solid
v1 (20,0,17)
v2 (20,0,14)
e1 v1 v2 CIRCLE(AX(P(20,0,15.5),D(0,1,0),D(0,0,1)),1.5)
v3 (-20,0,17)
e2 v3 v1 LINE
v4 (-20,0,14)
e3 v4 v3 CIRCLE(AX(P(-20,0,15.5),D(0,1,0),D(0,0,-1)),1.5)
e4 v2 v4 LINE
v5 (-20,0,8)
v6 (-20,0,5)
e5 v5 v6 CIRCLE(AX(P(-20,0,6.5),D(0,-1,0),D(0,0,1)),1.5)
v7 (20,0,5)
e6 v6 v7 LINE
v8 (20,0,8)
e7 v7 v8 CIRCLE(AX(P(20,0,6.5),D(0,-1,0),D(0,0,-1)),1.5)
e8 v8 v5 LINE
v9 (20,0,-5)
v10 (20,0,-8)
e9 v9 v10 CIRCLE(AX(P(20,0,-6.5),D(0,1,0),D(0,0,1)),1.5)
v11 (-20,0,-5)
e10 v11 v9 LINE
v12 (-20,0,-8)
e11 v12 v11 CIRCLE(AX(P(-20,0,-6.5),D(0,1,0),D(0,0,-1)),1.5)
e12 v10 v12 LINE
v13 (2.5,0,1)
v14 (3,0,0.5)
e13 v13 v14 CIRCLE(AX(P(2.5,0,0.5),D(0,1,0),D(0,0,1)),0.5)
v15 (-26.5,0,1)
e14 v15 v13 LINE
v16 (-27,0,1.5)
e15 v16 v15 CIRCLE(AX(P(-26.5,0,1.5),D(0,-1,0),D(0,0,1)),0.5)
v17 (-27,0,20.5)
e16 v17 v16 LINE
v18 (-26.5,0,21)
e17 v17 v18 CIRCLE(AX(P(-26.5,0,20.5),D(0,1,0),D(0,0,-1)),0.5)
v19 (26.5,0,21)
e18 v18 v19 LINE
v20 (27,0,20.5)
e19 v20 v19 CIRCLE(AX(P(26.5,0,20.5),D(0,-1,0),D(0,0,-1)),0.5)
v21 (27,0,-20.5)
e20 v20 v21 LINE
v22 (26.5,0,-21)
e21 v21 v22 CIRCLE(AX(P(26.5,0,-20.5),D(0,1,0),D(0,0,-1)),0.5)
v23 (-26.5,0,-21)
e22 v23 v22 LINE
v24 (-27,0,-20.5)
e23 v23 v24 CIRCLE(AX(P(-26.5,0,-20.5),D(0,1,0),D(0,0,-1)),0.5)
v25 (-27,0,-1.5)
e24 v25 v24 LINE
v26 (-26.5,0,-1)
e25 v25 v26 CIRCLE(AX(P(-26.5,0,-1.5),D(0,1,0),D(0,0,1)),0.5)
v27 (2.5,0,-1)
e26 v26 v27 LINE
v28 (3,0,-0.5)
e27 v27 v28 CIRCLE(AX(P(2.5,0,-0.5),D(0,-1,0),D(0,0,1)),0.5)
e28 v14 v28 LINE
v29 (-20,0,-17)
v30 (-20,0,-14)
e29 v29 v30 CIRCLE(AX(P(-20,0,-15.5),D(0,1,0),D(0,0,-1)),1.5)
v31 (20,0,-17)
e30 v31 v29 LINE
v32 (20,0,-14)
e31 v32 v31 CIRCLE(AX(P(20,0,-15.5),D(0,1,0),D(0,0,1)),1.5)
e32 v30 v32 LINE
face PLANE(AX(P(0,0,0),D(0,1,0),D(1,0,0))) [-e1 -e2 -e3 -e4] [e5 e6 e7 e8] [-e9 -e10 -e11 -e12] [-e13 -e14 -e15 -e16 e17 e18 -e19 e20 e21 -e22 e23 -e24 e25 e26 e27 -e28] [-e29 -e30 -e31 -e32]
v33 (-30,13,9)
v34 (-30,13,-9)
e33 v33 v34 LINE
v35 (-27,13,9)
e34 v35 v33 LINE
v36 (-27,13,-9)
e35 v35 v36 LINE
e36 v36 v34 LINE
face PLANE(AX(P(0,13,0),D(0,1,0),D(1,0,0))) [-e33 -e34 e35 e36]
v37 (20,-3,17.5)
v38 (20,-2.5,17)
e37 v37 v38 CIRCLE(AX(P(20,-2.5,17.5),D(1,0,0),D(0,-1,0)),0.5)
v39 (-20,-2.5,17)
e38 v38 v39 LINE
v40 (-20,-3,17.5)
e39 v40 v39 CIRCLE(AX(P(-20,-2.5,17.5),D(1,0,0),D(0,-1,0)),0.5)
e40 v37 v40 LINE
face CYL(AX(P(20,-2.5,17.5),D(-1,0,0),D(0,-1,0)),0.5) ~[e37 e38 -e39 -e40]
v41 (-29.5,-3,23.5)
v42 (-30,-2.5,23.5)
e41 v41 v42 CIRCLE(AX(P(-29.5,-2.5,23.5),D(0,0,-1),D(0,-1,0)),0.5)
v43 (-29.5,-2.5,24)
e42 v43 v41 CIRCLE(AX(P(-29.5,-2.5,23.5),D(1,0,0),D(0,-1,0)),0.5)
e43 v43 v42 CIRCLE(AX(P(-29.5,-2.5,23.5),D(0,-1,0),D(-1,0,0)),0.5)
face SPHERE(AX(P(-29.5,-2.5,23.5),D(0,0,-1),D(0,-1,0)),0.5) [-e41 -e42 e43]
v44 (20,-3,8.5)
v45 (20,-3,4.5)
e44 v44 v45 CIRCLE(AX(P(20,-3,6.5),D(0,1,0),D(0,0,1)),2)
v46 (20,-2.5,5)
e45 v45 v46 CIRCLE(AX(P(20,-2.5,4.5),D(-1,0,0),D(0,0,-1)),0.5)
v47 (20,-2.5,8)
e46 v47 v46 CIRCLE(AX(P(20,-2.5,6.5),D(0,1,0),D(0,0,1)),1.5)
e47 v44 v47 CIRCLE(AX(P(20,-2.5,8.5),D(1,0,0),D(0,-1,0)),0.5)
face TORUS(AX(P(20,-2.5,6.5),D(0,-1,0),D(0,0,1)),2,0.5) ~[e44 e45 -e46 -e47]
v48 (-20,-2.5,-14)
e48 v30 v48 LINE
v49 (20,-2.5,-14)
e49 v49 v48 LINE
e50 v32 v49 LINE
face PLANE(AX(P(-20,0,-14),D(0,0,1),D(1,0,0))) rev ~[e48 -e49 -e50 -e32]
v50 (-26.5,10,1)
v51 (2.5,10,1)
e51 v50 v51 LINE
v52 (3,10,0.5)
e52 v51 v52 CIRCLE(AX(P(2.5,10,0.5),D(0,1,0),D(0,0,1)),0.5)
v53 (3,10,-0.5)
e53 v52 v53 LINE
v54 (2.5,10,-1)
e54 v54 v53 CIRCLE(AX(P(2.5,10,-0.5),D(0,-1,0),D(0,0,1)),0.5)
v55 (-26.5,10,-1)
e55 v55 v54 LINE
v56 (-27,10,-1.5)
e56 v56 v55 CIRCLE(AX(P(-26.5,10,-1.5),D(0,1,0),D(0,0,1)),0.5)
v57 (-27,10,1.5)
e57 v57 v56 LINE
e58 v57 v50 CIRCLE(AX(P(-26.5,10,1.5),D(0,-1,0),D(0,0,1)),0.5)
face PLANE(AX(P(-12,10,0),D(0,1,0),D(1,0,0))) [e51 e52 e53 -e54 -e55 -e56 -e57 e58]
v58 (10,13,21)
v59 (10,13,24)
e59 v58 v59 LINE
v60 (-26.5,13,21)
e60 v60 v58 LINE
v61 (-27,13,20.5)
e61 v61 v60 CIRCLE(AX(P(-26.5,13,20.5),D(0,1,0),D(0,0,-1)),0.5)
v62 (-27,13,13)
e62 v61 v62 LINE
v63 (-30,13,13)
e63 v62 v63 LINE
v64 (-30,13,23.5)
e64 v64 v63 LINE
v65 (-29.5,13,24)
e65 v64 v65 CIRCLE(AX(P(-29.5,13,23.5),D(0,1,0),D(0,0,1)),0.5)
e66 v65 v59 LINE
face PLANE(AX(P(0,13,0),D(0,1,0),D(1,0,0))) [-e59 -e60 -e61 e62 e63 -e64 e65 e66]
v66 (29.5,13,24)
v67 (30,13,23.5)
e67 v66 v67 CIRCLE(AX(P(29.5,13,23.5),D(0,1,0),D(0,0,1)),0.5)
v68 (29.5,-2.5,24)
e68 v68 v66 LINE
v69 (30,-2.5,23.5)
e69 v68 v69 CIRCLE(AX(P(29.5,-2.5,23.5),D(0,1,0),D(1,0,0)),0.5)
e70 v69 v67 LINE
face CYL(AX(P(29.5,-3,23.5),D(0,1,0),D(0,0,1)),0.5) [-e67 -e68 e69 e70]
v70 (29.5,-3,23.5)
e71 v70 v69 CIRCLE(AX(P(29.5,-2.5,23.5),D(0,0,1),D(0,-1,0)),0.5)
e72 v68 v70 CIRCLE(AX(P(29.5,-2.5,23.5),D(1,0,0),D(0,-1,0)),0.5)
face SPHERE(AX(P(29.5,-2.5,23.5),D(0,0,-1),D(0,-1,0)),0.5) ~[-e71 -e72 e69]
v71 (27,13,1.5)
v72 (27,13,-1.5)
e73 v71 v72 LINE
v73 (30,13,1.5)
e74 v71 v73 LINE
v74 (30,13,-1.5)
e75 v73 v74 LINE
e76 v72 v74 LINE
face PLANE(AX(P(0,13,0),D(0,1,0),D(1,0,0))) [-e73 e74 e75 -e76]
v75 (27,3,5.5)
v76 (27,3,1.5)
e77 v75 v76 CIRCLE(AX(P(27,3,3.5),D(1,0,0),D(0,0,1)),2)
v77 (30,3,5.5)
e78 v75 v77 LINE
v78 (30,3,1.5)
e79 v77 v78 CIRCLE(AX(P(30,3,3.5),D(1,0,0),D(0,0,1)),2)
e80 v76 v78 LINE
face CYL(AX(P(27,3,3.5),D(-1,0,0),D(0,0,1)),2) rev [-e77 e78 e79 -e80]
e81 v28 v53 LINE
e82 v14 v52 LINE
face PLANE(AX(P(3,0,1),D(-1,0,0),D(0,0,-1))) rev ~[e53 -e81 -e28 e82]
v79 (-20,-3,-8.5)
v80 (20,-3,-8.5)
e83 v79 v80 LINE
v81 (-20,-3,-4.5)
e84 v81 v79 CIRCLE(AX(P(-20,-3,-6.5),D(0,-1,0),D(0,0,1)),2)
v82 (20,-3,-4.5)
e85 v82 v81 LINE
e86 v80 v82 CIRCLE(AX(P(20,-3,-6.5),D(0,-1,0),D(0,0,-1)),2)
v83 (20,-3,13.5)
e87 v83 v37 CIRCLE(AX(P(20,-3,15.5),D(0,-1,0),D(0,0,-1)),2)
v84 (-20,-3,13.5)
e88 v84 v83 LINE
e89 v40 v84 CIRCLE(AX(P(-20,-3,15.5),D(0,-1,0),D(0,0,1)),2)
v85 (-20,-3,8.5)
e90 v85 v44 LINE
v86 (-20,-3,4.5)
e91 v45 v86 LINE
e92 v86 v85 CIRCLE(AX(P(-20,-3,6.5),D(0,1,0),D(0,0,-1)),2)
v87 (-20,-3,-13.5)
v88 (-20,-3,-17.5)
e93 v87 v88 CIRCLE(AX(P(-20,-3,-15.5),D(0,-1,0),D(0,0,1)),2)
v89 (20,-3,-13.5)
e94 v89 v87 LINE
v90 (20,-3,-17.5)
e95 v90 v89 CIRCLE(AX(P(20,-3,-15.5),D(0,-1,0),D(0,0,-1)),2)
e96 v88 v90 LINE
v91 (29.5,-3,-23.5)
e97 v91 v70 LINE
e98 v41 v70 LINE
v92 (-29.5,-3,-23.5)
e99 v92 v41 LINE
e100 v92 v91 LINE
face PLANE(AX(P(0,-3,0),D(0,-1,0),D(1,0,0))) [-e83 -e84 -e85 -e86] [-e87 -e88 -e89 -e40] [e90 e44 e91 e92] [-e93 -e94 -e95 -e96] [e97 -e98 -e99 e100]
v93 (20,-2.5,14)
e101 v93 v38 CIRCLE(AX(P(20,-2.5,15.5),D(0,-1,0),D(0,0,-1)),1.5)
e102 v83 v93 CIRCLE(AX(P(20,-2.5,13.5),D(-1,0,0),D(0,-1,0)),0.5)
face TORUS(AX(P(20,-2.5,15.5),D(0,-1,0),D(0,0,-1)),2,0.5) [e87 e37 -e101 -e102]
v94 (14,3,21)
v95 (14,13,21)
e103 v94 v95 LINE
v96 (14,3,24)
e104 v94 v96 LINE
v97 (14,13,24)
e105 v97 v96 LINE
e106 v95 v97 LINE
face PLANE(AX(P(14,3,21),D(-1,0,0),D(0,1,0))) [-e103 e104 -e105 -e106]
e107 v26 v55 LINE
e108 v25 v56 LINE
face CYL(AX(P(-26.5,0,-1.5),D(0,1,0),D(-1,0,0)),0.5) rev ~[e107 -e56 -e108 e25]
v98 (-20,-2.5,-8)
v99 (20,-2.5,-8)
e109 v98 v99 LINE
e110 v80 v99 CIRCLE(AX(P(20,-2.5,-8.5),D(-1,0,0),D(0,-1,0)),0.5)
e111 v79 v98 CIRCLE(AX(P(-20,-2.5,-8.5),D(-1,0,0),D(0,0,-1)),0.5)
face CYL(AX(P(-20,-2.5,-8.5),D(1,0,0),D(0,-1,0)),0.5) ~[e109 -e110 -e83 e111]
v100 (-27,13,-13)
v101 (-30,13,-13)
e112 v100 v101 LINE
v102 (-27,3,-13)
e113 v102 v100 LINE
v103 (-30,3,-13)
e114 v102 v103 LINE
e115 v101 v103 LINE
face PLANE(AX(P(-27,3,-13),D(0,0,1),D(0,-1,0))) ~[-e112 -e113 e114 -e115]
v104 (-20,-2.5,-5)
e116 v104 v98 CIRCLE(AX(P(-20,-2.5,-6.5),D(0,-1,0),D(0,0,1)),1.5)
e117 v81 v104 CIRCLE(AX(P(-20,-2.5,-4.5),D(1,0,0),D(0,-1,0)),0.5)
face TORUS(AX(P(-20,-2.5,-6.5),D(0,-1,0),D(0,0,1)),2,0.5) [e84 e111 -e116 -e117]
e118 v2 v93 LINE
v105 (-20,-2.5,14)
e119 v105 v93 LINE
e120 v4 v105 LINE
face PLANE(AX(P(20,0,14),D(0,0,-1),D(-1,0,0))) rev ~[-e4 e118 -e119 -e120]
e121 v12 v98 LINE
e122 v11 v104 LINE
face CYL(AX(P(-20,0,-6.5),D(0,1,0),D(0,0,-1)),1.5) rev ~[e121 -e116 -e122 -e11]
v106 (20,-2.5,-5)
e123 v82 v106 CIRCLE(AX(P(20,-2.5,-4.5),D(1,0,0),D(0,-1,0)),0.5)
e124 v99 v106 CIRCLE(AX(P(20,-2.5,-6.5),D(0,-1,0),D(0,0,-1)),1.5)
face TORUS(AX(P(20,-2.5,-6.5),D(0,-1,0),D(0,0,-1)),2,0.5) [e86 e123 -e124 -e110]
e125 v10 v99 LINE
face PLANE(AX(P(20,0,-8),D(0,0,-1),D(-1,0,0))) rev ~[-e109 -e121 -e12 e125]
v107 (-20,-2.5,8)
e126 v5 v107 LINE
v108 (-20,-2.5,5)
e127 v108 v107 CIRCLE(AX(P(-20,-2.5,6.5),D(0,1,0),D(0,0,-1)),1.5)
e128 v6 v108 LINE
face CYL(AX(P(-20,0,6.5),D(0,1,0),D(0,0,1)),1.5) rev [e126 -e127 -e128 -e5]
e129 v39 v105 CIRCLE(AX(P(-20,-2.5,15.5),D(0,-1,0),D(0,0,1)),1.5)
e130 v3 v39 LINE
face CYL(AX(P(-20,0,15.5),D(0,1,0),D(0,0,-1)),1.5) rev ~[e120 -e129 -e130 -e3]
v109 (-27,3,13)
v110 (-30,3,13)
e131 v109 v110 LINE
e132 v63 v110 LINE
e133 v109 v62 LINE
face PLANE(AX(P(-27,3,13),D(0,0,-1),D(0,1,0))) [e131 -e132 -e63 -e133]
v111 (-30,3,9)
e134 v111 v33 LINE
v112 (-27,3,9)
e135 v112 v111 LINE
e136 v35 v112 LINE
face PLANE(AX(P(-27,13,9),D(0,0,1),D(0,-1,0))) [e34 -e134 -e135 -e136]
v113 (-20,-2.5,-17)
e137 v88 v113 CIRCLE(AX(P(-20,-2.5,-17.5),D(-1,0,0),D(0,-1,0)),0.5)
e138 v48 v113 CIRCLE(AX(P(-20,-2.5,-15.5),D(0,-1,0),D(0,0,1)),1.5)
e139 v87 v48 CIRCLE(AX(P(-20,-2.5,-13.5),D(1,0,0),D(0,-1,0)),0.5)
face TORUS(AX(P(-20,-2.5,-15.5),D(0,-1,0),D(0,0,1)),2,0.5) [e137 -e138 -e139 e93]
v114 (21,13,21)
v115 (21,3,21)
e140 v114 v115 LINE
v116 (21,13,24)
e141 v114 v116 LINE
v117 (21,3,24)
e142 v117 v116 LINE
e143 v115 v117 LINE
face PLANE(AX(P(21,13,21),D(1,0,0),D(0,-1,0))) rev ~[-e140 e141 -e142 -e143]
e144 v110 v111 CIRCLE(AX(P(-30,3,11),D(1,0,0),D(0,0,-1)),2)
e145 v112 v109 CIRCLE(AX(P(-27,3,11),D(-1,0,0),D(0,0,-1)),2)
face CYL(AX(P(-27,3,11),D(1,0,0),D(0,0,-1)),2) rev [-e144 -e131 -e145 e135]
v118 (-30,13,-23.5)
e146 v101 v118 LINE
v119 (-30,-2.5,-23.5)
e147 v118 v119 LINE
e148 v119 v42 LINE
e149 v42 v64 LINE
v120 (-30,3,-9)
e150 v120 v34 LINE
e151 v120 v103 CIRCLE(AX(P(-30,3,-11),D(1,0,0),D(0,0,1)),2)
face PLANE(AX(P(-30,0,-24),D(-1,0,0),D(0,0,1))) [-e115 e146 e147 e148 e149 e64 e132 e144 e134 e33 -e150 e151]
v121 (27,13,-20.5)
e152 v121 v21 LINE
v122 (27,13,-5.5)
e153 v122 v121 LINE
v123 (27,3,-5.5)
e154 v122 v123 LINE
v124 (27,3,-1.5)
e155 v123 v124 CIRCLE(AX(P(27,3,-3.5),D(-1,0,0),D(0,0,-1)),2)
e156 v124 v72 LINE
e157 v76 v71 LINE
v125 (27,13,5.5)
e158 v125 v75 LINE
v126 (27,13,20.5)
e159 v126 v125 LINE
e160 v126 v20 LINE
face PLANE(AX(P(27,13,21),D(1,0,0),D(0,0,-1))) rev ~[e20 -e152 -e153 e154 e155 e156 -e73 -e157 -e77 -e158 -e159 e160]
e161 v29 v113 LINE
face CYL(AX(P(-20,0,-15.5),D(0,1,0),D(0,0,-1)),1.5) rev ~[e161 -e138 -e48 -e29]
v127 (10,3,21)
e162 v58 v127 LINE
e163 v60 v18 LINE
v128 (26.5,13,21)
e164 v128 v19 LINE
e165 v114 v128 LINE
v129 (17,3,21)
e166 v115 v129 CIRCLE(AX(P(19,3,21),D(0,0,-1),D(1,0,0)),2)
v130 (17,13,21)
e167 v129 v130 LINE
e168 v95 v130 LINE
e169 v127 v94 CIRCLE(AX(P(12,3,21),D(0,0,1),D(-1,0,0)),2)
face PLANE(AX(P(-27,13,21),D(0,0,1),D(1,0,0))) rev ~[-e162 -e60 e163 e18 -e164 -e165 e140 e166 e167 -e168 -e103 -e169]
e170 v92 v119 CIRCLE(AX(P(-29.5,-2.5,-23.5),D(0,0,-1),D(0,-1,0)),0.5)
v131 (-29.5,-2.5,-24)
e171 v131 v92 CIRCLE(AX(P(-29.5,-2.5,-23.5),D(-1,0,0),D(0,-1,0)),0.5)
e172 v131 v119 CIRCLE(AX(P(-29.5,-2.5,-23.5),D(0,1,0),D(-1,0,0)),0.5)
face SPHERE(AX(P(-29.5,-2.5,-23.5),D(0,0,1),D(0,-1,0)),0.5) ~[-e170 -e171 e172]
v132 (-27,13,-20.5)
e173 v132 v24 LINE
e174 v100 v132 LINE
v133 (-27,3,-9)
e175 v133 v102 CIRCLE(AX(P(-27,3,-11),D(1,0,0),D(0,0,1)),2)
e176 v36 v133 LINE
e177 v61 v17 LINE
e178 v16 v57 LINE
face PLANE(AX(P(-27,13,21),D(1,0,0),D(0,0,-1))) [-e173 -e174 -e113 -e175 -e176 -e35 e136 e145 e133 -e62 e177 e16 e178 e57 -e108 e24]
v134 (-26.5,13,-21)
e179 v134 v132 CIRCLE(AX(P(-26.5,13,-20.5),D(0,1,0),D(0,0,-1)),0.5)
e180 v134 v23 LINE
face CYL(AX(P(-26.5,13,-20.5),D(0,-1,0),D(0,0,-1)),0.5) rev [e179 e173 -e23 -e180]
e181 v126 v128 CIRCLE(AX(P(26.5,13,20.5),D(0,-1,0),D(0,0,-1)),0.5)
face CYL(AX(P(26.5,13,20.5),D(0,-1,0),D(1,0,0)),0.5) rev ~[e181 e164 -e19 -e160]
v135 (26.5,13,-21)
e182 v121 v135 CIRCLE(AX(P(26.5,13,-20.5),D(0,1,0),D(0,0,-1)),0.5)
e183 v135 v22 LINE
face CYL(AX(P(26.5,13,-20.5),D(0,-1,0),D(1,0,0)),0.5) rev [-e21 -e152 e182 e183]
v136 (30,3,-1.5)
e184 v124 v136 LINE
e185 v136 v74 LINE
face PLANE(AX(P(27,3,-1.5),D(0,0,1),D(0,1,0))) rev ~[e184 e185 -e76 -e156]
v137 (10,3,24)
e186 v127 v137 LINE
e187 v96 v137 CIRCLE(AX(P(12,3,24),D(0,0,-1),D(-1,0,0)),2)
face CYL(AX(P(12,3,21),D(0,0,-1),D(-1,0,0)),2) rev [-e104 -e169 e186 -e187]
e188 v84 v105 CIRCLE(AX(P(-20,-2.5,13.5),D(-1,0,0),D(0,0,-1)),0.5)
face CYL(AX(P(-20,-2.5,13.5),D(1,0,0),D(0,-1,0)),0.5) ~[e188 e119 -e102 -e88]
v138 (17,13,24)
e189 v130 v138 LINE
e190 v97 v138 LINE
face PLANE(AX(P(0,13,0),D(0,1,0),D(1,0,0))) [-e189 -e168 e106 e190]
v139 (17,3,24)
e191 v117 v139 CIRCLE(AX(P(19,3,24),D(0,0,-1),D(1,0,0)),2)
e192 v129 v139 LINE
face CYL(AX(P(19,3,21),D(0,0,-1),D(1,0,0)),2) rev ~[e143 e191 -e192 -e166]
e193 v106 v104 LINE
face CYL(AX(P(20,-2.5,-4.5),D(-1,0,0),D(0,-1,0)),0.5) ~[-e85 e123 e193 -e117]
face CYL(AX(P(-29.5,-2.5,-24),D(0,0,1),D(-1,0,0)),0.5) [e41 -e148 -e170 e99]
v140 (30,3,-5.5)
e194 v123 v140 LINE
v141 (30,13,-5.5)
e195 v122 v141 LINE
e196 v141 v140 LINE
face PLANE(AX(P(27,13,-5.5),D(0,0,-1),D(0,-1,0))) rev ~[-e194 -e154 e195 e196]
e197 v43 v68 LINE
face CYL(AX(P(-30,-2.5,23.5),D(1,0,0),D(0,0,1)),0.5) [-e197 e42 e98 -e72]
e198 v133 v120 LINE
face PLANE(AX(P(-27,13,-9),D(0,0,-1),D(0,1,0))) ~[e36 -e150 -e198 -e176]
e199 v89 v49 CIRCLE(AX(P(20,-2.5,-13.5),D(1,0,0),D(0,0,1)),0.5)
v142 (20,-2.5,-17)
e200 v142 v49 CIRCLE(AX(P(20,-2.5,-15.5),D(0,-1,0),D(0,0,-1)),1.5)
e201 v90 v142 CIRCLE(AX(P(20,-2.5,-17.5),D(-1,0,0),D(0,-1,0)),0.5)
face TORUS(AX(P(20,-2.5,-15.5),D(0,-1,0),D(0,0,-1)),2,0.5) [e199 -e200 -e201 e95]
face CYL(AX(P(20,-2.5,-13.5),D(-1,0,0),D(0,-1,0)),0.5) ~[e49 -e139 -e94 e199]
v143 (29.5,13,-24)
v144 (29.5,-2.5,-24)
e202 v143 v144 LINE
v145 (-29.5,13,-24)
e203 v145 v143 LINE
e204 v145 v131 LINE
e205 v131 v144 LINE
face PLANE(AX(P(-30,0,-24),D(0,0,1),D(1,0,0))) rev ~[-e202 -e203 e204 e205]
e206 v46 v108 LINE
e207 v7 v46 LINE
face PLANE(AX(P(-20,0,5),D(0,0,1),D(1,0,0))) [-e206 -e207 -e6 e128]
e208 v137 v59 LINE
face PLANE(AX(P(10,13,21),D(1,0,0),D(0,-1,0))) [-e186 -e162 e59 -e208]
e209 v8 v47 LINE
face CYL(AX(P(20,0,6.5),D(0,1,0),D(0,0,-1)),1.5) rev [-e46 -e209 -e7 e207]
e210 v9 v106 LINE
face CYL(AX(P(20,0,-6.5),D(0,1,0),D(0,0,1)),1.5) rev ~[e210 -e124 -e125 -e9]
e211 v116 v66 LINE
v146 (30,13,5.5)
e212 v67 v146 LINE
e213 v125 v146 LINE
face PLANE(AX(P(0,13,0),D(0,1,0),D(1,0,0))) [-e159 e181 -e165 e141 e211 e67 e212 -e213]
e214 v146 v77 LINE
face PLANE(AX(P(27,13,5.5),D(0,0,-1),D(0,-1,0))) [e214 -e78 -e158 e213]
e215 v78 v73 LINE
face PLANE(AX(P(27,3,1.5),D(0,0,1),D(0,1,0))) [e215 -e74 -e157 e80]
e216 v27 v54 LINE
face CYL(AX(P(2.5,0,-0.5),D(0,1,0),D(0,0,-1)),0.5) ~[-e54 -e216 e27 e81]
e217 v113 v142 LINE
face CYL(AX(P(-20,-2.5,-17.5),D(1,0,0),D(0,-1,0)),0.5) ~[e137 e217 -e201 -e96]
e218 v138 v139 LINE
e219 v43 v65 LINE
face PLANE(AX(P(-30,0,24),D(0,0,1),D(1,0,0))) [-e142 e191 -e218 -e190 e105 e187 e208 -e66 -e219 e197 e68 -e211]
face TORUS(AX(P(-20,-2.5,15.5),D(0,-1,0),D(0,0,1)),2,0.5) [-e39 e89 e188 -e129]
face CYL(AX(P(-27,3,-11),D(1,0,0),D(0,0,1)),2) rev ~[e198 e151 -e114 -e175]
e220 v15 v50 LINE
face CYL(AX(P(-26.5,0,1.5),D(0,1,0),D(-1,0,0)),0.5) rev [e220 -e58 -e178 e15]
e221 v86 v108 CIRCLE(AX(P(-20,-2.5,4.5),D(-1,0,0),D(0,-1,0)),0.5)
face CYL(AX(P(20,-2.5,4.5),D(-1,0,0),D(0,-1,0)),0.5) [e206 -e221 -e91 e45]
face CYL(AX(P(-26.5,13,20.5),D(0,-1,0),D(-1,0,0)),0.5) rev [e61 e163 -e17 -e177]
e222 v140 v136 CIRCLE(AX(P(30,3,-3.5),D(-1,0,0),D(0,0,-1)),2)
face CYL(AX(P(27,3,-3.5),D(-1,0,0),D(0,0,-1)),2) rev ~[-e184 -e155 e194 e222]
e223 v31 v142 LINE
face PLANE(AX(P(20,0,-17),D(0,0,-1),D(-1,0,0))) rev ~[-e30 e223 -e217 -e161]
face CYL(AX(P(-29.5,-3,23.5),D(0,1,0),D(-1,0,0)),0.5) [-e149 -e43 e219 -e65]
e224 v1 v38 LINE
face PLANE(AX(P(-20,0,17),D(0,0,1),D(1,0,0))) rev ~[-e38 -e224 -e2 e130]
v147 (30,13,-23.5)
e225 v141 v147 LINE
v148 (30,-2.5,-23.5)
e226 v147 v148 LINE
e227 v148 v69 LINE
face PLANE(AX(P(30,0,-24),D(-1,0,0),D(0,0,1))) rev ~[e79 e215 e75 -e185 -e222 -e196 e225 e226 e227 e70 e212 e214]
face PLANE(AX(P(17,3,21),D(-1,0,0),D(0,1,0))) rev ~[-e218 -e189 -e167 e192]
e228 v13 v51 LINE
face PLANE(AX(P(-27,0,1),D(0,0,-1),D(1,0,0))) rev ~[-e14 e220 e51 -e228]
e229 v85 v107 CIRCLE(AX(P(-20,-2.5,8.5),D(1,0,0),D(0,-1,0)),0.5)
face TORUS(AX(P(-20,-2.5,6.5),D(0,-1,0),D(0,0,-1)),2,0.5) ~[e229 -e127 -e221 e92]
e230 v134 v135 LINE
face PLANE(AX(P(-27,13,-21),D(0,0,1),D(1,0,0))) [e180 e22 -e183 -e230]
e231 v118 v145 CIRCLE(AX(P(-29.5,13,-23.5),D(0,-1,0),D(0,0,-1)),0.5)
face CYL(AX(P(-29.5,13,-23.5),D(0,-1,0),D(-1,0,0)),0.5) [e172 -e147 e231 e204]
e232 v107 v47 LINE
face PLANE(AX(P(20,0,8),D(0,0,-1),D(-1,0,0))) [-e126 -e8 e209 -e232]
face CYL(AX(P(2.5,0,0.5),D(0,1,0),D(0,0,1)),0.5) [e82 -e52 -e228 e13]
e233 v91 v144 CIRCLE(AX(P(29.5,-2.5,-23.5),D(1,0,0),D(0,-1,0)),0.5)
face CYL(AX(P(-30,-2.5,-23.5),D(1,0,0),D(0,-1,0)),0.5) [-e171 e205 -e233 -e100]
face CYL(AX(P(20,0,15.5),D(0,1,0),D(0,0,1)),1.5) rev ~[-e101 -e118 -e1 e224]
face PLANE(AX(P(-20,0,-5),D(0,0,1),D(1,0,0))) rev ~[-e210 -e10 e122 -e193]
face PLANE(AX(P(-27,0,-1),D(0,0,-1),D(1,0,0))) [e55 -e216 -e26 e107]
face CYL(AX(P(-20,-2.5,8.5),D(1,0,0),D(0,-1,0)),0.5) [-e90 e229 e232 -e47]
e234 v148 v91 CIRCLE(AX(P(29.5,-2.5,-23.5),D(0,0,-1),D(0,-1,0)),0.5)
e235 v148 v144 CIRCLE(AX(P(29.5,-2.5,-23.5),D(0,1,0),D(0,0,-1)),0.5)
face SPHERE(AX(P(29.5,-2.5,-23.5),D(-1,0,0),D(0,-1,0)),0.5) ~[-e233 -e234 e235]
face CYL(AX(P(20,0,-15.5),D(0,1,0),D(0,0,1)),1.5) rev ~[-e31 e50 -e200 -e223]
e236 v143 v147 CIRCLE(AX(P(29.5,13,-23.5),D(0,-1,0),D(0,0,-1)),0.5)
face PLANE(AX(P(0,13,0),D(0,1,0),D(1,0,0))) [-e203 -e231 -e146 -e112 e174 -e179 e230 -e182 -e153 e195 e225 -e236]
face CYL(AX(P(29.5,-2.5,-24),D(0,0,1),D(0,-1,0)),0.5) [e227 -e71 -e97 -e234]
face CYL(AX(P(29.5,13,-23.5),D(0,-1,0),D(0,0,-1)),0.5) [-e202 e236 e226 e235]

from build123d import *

# Parameters (mm, degrees)
SKETCH1_W           = 60
SKETCH1_H           = 48
BOSS_EXTRUDE1_DEPTH = 13
SKETCH2_W           = 60
SKETCH2_H           = 48
BOSS_EXTRUDE2_DEPTH = 3
SKETCH3_W           = 54
SKETCH3_H           = 42
CUT_EXTRUDE1_DEPTH  = 13
CUT_EXTRUDE2_DEPTH  = 3
SKETCH5_W           = 30
SKETCH5_H           = 2
BOSS_EXTRUDE3_DEPTH = 10
CUT_EXTRUDE3_DEPTH  = 64.198101237
CUT_EXTRUDE4_DEPTH  = 10
CUT_EXTRUDE5_DEPTH  = 10
FILLET1_R           = 0.5


with BuildPart() as part:
    # Sketch1 → Boss-Extrude1 (new body)
    with BuildSketch(Plane(origin=(0, 0, 0), x_dir=(1, 0, 0), z_dir=(0, 1, 0))):
        Rectangle(SKETCH1_W, SKETCH1_H)
    extrude(amount=BOSS_EXTRUDE1_DEPTH)

    # Sketch2 → Boss-Extrude2 (add)
    with BuildSketch(Plane.XZ):
        Rectangle(SKETCH2_W, SKETCH2_H)
    extrude(amount=BOSS_EXTRUDE2_DEPTH)

    # Sketch3 → Cut-Extrude1 (cut)
    with BuildSketch(Plane(origin=(0, 13, 0), x_dir=(1, 0, 0), z_dir=(0, 1, 0))):
        Rectangle(SKETCH3_W, SKETCH3_H)
    extrude(amount=-CUT_EXTRUDE1_DEPTH, mode=Mode.SUBTRACT)

    # Sketch4 → Cut-Extrude2 (cut)
    with BuildSketch(Plane(origin=(27, 0, 39), x_dir=(0, 0, 1), z_dir=(-1, 0, 0))):
        with BuildLine():
            Line((-37.5, 3), (-37.5, 13))
            Line((-37.5, 13), (-33.5, 13))
            Line((-33.5, 13), (-33.5, 3))
            ThreePointArc((-33.5, 3), (-35.5, 1), (-37.5, 3))
        make_face()
        with BuildLine():
            Line((-40.5, 3), (-40.5, 13))
            Line((-40.5, 13), (-44.5, 13))
            Line((-44.5, 13), (-44.5, 3))
            ThreePointArc((-44.5, 3), (-42.5, 1), (-40.5, 3))
        make_face()
    extrude(amount=-CUT_EXTRUDE2_DEPTH, mode=Mode.SUBTRACT)

    # Sketch5 → Boss-Extrude3 (add)
    with BuildSketch(Plane(origin=(0, 0, 0), x_dir=(1, 0, 0), z_dir=(0, 1, 0))):
        with Locations((-12, 0)):
            Rectangle(SKETCH5_W, SKETCH5_H)
    extrude(amount=BOSS_EXTRUDE3_DEPTH)

    # Sketch6 → Cut-Extrude3 (cut, through all)
    with BuildSketch(Plane(origin=(-27, 0, 0), x_dir=(0, 0, -1), z_dir=(1, 0, 0))):
        with BuildLine():
            Line((-13, 3), (-13, 13))
            Line((-13, 13), (-9, 13))
            Line((-9, 13), (-9, 3))
            ThreePointArc((-9, 3), (-11, 1), (-13, 3))
        make_face()
    cut_extrude3 = extrude(amount=-CUT_EXTRUDE3_DEPTH, mode=Mode.SUBTRACT)

    # Mirror1: Cut-Extrude3 across plane
    add(cut_extrude3.mirror(Plane.XY), mode=Mode.SUBTRACT)

    # Sketch7 → Cut-Extrude4 (cut)
    with BuildSketch(Plane(origin=(0, 0, 21), x_dir=(-1, 0, 0), z_dir=(0, 0, -1))):
        with BuildLine():
            Line((-14, 3), (-14, 13))
            Line((-14, 13), (-10, 13))
            Line((-10, 13), (-10, 3))
            ThreePointArc((-10, 3), (-12, 1), (-14, 3))
        make_face()
        with BuildLine():
            Line((-17, 3), (-17, 13))
            Line((-17, 13), (-21, 13))
            Line((-21, 13), (-21, 3))
            ThreePointArc((-21, 3), (-19, 1), (-17, 3))
        make_face()
    extrude(amount=-CUT_EXTRUDE4_DEPTH, mode=Mode.SUBTRACT)

    # Sketch11 → Cut-Extrude5 (cut)
    with BuildSketch(Plane(origin=(0, 0, 0), x_dir=(1, 0, 0), z_dir=(0, 1, 0))):
        with BuildLine():
            Line((-20, 5), (20, 5))
            ThreePointArc((20, 5), (21.5, 6.5), (20, 8))
            Line((20, 8), (-20, 8))
            ThreePointArc((-20, 8), (-21.5, 6.5), (-20, 5))
        make_face()
        with BuildLine():
            Line((-20, 14), (20, 14))
            ThreePointArc((20, 14), (21.5, 15.5), (20, 17))
            Line((20, 17), (-20, 17))
            ThreePointArc((-20, 17), (-21.5, 15.5), (-20, 14))
        make_face()
        with BuildLine():
            Line((-20, -5), (20, -5))
            ThreePointArc((20, -5), (21.5, -6.5), (20, -8))
            Line((20, -8), (-20, -8))
            ThreePointArc((-20, -8), (-21.5, -6.5), (-20, -5))
        make_face()
        with BuildLine():
            Line((-20, -17), (20, -17))
            ThreePointArc((20, -17), (21.5, -15.5), (20, -14))
            Line((20, -14), (-20, -14))
            ThreePointArc((-20, -14), (-21.5, -15.5), (-20, -17))
        make_face()
    extrude(amount=-CUT_EXTRUDE5_DEPTH, mode=Mode.SUBTRACT)

    # Fillet1
    fillet1_edges = [part.edges().sort_by_distance(p)[0] for p in [
        (0, -3, 17),
        (21.5, -3, 15.5),
        (0, -3, 14),
        (-21.5, -3, 15.5),
        (0, -3, -5),
        (21.5, -3, -6.5),
        (0, -3, -8),
        (-21.5, -3, -6.5),
        (0, -3, 8),
        (21.5, -3, 6.5),
        (0, -3, 5),
        (-21.5, -3, 6.5),
        (-30, -3, 0),
        (0, -3, -17),
        (-21.5, -3, -15.5),
        (0, -3, -14),
        (21.5, -3, -15.5),
        (0, -3, -24),
        (30, -3, 0),
        (0, -3, 24),
        (-27, 6.5, 21),
        (-27, 6.5, -21),
        (27, 6.5, -21),
        (27, 6.5, 21),
        (-27, 5, -1),
        (-27, 5, 1),
        (3, 5, 1),
        (3, 5, -1),
        (-30, 5, -24),
        (30, 5, -24),
        (30, 5, 24),
        (-30, 5, 24),
    ]]
    fillet(fillet1_edges, radius=FILLET1_R)


solid = part.part
